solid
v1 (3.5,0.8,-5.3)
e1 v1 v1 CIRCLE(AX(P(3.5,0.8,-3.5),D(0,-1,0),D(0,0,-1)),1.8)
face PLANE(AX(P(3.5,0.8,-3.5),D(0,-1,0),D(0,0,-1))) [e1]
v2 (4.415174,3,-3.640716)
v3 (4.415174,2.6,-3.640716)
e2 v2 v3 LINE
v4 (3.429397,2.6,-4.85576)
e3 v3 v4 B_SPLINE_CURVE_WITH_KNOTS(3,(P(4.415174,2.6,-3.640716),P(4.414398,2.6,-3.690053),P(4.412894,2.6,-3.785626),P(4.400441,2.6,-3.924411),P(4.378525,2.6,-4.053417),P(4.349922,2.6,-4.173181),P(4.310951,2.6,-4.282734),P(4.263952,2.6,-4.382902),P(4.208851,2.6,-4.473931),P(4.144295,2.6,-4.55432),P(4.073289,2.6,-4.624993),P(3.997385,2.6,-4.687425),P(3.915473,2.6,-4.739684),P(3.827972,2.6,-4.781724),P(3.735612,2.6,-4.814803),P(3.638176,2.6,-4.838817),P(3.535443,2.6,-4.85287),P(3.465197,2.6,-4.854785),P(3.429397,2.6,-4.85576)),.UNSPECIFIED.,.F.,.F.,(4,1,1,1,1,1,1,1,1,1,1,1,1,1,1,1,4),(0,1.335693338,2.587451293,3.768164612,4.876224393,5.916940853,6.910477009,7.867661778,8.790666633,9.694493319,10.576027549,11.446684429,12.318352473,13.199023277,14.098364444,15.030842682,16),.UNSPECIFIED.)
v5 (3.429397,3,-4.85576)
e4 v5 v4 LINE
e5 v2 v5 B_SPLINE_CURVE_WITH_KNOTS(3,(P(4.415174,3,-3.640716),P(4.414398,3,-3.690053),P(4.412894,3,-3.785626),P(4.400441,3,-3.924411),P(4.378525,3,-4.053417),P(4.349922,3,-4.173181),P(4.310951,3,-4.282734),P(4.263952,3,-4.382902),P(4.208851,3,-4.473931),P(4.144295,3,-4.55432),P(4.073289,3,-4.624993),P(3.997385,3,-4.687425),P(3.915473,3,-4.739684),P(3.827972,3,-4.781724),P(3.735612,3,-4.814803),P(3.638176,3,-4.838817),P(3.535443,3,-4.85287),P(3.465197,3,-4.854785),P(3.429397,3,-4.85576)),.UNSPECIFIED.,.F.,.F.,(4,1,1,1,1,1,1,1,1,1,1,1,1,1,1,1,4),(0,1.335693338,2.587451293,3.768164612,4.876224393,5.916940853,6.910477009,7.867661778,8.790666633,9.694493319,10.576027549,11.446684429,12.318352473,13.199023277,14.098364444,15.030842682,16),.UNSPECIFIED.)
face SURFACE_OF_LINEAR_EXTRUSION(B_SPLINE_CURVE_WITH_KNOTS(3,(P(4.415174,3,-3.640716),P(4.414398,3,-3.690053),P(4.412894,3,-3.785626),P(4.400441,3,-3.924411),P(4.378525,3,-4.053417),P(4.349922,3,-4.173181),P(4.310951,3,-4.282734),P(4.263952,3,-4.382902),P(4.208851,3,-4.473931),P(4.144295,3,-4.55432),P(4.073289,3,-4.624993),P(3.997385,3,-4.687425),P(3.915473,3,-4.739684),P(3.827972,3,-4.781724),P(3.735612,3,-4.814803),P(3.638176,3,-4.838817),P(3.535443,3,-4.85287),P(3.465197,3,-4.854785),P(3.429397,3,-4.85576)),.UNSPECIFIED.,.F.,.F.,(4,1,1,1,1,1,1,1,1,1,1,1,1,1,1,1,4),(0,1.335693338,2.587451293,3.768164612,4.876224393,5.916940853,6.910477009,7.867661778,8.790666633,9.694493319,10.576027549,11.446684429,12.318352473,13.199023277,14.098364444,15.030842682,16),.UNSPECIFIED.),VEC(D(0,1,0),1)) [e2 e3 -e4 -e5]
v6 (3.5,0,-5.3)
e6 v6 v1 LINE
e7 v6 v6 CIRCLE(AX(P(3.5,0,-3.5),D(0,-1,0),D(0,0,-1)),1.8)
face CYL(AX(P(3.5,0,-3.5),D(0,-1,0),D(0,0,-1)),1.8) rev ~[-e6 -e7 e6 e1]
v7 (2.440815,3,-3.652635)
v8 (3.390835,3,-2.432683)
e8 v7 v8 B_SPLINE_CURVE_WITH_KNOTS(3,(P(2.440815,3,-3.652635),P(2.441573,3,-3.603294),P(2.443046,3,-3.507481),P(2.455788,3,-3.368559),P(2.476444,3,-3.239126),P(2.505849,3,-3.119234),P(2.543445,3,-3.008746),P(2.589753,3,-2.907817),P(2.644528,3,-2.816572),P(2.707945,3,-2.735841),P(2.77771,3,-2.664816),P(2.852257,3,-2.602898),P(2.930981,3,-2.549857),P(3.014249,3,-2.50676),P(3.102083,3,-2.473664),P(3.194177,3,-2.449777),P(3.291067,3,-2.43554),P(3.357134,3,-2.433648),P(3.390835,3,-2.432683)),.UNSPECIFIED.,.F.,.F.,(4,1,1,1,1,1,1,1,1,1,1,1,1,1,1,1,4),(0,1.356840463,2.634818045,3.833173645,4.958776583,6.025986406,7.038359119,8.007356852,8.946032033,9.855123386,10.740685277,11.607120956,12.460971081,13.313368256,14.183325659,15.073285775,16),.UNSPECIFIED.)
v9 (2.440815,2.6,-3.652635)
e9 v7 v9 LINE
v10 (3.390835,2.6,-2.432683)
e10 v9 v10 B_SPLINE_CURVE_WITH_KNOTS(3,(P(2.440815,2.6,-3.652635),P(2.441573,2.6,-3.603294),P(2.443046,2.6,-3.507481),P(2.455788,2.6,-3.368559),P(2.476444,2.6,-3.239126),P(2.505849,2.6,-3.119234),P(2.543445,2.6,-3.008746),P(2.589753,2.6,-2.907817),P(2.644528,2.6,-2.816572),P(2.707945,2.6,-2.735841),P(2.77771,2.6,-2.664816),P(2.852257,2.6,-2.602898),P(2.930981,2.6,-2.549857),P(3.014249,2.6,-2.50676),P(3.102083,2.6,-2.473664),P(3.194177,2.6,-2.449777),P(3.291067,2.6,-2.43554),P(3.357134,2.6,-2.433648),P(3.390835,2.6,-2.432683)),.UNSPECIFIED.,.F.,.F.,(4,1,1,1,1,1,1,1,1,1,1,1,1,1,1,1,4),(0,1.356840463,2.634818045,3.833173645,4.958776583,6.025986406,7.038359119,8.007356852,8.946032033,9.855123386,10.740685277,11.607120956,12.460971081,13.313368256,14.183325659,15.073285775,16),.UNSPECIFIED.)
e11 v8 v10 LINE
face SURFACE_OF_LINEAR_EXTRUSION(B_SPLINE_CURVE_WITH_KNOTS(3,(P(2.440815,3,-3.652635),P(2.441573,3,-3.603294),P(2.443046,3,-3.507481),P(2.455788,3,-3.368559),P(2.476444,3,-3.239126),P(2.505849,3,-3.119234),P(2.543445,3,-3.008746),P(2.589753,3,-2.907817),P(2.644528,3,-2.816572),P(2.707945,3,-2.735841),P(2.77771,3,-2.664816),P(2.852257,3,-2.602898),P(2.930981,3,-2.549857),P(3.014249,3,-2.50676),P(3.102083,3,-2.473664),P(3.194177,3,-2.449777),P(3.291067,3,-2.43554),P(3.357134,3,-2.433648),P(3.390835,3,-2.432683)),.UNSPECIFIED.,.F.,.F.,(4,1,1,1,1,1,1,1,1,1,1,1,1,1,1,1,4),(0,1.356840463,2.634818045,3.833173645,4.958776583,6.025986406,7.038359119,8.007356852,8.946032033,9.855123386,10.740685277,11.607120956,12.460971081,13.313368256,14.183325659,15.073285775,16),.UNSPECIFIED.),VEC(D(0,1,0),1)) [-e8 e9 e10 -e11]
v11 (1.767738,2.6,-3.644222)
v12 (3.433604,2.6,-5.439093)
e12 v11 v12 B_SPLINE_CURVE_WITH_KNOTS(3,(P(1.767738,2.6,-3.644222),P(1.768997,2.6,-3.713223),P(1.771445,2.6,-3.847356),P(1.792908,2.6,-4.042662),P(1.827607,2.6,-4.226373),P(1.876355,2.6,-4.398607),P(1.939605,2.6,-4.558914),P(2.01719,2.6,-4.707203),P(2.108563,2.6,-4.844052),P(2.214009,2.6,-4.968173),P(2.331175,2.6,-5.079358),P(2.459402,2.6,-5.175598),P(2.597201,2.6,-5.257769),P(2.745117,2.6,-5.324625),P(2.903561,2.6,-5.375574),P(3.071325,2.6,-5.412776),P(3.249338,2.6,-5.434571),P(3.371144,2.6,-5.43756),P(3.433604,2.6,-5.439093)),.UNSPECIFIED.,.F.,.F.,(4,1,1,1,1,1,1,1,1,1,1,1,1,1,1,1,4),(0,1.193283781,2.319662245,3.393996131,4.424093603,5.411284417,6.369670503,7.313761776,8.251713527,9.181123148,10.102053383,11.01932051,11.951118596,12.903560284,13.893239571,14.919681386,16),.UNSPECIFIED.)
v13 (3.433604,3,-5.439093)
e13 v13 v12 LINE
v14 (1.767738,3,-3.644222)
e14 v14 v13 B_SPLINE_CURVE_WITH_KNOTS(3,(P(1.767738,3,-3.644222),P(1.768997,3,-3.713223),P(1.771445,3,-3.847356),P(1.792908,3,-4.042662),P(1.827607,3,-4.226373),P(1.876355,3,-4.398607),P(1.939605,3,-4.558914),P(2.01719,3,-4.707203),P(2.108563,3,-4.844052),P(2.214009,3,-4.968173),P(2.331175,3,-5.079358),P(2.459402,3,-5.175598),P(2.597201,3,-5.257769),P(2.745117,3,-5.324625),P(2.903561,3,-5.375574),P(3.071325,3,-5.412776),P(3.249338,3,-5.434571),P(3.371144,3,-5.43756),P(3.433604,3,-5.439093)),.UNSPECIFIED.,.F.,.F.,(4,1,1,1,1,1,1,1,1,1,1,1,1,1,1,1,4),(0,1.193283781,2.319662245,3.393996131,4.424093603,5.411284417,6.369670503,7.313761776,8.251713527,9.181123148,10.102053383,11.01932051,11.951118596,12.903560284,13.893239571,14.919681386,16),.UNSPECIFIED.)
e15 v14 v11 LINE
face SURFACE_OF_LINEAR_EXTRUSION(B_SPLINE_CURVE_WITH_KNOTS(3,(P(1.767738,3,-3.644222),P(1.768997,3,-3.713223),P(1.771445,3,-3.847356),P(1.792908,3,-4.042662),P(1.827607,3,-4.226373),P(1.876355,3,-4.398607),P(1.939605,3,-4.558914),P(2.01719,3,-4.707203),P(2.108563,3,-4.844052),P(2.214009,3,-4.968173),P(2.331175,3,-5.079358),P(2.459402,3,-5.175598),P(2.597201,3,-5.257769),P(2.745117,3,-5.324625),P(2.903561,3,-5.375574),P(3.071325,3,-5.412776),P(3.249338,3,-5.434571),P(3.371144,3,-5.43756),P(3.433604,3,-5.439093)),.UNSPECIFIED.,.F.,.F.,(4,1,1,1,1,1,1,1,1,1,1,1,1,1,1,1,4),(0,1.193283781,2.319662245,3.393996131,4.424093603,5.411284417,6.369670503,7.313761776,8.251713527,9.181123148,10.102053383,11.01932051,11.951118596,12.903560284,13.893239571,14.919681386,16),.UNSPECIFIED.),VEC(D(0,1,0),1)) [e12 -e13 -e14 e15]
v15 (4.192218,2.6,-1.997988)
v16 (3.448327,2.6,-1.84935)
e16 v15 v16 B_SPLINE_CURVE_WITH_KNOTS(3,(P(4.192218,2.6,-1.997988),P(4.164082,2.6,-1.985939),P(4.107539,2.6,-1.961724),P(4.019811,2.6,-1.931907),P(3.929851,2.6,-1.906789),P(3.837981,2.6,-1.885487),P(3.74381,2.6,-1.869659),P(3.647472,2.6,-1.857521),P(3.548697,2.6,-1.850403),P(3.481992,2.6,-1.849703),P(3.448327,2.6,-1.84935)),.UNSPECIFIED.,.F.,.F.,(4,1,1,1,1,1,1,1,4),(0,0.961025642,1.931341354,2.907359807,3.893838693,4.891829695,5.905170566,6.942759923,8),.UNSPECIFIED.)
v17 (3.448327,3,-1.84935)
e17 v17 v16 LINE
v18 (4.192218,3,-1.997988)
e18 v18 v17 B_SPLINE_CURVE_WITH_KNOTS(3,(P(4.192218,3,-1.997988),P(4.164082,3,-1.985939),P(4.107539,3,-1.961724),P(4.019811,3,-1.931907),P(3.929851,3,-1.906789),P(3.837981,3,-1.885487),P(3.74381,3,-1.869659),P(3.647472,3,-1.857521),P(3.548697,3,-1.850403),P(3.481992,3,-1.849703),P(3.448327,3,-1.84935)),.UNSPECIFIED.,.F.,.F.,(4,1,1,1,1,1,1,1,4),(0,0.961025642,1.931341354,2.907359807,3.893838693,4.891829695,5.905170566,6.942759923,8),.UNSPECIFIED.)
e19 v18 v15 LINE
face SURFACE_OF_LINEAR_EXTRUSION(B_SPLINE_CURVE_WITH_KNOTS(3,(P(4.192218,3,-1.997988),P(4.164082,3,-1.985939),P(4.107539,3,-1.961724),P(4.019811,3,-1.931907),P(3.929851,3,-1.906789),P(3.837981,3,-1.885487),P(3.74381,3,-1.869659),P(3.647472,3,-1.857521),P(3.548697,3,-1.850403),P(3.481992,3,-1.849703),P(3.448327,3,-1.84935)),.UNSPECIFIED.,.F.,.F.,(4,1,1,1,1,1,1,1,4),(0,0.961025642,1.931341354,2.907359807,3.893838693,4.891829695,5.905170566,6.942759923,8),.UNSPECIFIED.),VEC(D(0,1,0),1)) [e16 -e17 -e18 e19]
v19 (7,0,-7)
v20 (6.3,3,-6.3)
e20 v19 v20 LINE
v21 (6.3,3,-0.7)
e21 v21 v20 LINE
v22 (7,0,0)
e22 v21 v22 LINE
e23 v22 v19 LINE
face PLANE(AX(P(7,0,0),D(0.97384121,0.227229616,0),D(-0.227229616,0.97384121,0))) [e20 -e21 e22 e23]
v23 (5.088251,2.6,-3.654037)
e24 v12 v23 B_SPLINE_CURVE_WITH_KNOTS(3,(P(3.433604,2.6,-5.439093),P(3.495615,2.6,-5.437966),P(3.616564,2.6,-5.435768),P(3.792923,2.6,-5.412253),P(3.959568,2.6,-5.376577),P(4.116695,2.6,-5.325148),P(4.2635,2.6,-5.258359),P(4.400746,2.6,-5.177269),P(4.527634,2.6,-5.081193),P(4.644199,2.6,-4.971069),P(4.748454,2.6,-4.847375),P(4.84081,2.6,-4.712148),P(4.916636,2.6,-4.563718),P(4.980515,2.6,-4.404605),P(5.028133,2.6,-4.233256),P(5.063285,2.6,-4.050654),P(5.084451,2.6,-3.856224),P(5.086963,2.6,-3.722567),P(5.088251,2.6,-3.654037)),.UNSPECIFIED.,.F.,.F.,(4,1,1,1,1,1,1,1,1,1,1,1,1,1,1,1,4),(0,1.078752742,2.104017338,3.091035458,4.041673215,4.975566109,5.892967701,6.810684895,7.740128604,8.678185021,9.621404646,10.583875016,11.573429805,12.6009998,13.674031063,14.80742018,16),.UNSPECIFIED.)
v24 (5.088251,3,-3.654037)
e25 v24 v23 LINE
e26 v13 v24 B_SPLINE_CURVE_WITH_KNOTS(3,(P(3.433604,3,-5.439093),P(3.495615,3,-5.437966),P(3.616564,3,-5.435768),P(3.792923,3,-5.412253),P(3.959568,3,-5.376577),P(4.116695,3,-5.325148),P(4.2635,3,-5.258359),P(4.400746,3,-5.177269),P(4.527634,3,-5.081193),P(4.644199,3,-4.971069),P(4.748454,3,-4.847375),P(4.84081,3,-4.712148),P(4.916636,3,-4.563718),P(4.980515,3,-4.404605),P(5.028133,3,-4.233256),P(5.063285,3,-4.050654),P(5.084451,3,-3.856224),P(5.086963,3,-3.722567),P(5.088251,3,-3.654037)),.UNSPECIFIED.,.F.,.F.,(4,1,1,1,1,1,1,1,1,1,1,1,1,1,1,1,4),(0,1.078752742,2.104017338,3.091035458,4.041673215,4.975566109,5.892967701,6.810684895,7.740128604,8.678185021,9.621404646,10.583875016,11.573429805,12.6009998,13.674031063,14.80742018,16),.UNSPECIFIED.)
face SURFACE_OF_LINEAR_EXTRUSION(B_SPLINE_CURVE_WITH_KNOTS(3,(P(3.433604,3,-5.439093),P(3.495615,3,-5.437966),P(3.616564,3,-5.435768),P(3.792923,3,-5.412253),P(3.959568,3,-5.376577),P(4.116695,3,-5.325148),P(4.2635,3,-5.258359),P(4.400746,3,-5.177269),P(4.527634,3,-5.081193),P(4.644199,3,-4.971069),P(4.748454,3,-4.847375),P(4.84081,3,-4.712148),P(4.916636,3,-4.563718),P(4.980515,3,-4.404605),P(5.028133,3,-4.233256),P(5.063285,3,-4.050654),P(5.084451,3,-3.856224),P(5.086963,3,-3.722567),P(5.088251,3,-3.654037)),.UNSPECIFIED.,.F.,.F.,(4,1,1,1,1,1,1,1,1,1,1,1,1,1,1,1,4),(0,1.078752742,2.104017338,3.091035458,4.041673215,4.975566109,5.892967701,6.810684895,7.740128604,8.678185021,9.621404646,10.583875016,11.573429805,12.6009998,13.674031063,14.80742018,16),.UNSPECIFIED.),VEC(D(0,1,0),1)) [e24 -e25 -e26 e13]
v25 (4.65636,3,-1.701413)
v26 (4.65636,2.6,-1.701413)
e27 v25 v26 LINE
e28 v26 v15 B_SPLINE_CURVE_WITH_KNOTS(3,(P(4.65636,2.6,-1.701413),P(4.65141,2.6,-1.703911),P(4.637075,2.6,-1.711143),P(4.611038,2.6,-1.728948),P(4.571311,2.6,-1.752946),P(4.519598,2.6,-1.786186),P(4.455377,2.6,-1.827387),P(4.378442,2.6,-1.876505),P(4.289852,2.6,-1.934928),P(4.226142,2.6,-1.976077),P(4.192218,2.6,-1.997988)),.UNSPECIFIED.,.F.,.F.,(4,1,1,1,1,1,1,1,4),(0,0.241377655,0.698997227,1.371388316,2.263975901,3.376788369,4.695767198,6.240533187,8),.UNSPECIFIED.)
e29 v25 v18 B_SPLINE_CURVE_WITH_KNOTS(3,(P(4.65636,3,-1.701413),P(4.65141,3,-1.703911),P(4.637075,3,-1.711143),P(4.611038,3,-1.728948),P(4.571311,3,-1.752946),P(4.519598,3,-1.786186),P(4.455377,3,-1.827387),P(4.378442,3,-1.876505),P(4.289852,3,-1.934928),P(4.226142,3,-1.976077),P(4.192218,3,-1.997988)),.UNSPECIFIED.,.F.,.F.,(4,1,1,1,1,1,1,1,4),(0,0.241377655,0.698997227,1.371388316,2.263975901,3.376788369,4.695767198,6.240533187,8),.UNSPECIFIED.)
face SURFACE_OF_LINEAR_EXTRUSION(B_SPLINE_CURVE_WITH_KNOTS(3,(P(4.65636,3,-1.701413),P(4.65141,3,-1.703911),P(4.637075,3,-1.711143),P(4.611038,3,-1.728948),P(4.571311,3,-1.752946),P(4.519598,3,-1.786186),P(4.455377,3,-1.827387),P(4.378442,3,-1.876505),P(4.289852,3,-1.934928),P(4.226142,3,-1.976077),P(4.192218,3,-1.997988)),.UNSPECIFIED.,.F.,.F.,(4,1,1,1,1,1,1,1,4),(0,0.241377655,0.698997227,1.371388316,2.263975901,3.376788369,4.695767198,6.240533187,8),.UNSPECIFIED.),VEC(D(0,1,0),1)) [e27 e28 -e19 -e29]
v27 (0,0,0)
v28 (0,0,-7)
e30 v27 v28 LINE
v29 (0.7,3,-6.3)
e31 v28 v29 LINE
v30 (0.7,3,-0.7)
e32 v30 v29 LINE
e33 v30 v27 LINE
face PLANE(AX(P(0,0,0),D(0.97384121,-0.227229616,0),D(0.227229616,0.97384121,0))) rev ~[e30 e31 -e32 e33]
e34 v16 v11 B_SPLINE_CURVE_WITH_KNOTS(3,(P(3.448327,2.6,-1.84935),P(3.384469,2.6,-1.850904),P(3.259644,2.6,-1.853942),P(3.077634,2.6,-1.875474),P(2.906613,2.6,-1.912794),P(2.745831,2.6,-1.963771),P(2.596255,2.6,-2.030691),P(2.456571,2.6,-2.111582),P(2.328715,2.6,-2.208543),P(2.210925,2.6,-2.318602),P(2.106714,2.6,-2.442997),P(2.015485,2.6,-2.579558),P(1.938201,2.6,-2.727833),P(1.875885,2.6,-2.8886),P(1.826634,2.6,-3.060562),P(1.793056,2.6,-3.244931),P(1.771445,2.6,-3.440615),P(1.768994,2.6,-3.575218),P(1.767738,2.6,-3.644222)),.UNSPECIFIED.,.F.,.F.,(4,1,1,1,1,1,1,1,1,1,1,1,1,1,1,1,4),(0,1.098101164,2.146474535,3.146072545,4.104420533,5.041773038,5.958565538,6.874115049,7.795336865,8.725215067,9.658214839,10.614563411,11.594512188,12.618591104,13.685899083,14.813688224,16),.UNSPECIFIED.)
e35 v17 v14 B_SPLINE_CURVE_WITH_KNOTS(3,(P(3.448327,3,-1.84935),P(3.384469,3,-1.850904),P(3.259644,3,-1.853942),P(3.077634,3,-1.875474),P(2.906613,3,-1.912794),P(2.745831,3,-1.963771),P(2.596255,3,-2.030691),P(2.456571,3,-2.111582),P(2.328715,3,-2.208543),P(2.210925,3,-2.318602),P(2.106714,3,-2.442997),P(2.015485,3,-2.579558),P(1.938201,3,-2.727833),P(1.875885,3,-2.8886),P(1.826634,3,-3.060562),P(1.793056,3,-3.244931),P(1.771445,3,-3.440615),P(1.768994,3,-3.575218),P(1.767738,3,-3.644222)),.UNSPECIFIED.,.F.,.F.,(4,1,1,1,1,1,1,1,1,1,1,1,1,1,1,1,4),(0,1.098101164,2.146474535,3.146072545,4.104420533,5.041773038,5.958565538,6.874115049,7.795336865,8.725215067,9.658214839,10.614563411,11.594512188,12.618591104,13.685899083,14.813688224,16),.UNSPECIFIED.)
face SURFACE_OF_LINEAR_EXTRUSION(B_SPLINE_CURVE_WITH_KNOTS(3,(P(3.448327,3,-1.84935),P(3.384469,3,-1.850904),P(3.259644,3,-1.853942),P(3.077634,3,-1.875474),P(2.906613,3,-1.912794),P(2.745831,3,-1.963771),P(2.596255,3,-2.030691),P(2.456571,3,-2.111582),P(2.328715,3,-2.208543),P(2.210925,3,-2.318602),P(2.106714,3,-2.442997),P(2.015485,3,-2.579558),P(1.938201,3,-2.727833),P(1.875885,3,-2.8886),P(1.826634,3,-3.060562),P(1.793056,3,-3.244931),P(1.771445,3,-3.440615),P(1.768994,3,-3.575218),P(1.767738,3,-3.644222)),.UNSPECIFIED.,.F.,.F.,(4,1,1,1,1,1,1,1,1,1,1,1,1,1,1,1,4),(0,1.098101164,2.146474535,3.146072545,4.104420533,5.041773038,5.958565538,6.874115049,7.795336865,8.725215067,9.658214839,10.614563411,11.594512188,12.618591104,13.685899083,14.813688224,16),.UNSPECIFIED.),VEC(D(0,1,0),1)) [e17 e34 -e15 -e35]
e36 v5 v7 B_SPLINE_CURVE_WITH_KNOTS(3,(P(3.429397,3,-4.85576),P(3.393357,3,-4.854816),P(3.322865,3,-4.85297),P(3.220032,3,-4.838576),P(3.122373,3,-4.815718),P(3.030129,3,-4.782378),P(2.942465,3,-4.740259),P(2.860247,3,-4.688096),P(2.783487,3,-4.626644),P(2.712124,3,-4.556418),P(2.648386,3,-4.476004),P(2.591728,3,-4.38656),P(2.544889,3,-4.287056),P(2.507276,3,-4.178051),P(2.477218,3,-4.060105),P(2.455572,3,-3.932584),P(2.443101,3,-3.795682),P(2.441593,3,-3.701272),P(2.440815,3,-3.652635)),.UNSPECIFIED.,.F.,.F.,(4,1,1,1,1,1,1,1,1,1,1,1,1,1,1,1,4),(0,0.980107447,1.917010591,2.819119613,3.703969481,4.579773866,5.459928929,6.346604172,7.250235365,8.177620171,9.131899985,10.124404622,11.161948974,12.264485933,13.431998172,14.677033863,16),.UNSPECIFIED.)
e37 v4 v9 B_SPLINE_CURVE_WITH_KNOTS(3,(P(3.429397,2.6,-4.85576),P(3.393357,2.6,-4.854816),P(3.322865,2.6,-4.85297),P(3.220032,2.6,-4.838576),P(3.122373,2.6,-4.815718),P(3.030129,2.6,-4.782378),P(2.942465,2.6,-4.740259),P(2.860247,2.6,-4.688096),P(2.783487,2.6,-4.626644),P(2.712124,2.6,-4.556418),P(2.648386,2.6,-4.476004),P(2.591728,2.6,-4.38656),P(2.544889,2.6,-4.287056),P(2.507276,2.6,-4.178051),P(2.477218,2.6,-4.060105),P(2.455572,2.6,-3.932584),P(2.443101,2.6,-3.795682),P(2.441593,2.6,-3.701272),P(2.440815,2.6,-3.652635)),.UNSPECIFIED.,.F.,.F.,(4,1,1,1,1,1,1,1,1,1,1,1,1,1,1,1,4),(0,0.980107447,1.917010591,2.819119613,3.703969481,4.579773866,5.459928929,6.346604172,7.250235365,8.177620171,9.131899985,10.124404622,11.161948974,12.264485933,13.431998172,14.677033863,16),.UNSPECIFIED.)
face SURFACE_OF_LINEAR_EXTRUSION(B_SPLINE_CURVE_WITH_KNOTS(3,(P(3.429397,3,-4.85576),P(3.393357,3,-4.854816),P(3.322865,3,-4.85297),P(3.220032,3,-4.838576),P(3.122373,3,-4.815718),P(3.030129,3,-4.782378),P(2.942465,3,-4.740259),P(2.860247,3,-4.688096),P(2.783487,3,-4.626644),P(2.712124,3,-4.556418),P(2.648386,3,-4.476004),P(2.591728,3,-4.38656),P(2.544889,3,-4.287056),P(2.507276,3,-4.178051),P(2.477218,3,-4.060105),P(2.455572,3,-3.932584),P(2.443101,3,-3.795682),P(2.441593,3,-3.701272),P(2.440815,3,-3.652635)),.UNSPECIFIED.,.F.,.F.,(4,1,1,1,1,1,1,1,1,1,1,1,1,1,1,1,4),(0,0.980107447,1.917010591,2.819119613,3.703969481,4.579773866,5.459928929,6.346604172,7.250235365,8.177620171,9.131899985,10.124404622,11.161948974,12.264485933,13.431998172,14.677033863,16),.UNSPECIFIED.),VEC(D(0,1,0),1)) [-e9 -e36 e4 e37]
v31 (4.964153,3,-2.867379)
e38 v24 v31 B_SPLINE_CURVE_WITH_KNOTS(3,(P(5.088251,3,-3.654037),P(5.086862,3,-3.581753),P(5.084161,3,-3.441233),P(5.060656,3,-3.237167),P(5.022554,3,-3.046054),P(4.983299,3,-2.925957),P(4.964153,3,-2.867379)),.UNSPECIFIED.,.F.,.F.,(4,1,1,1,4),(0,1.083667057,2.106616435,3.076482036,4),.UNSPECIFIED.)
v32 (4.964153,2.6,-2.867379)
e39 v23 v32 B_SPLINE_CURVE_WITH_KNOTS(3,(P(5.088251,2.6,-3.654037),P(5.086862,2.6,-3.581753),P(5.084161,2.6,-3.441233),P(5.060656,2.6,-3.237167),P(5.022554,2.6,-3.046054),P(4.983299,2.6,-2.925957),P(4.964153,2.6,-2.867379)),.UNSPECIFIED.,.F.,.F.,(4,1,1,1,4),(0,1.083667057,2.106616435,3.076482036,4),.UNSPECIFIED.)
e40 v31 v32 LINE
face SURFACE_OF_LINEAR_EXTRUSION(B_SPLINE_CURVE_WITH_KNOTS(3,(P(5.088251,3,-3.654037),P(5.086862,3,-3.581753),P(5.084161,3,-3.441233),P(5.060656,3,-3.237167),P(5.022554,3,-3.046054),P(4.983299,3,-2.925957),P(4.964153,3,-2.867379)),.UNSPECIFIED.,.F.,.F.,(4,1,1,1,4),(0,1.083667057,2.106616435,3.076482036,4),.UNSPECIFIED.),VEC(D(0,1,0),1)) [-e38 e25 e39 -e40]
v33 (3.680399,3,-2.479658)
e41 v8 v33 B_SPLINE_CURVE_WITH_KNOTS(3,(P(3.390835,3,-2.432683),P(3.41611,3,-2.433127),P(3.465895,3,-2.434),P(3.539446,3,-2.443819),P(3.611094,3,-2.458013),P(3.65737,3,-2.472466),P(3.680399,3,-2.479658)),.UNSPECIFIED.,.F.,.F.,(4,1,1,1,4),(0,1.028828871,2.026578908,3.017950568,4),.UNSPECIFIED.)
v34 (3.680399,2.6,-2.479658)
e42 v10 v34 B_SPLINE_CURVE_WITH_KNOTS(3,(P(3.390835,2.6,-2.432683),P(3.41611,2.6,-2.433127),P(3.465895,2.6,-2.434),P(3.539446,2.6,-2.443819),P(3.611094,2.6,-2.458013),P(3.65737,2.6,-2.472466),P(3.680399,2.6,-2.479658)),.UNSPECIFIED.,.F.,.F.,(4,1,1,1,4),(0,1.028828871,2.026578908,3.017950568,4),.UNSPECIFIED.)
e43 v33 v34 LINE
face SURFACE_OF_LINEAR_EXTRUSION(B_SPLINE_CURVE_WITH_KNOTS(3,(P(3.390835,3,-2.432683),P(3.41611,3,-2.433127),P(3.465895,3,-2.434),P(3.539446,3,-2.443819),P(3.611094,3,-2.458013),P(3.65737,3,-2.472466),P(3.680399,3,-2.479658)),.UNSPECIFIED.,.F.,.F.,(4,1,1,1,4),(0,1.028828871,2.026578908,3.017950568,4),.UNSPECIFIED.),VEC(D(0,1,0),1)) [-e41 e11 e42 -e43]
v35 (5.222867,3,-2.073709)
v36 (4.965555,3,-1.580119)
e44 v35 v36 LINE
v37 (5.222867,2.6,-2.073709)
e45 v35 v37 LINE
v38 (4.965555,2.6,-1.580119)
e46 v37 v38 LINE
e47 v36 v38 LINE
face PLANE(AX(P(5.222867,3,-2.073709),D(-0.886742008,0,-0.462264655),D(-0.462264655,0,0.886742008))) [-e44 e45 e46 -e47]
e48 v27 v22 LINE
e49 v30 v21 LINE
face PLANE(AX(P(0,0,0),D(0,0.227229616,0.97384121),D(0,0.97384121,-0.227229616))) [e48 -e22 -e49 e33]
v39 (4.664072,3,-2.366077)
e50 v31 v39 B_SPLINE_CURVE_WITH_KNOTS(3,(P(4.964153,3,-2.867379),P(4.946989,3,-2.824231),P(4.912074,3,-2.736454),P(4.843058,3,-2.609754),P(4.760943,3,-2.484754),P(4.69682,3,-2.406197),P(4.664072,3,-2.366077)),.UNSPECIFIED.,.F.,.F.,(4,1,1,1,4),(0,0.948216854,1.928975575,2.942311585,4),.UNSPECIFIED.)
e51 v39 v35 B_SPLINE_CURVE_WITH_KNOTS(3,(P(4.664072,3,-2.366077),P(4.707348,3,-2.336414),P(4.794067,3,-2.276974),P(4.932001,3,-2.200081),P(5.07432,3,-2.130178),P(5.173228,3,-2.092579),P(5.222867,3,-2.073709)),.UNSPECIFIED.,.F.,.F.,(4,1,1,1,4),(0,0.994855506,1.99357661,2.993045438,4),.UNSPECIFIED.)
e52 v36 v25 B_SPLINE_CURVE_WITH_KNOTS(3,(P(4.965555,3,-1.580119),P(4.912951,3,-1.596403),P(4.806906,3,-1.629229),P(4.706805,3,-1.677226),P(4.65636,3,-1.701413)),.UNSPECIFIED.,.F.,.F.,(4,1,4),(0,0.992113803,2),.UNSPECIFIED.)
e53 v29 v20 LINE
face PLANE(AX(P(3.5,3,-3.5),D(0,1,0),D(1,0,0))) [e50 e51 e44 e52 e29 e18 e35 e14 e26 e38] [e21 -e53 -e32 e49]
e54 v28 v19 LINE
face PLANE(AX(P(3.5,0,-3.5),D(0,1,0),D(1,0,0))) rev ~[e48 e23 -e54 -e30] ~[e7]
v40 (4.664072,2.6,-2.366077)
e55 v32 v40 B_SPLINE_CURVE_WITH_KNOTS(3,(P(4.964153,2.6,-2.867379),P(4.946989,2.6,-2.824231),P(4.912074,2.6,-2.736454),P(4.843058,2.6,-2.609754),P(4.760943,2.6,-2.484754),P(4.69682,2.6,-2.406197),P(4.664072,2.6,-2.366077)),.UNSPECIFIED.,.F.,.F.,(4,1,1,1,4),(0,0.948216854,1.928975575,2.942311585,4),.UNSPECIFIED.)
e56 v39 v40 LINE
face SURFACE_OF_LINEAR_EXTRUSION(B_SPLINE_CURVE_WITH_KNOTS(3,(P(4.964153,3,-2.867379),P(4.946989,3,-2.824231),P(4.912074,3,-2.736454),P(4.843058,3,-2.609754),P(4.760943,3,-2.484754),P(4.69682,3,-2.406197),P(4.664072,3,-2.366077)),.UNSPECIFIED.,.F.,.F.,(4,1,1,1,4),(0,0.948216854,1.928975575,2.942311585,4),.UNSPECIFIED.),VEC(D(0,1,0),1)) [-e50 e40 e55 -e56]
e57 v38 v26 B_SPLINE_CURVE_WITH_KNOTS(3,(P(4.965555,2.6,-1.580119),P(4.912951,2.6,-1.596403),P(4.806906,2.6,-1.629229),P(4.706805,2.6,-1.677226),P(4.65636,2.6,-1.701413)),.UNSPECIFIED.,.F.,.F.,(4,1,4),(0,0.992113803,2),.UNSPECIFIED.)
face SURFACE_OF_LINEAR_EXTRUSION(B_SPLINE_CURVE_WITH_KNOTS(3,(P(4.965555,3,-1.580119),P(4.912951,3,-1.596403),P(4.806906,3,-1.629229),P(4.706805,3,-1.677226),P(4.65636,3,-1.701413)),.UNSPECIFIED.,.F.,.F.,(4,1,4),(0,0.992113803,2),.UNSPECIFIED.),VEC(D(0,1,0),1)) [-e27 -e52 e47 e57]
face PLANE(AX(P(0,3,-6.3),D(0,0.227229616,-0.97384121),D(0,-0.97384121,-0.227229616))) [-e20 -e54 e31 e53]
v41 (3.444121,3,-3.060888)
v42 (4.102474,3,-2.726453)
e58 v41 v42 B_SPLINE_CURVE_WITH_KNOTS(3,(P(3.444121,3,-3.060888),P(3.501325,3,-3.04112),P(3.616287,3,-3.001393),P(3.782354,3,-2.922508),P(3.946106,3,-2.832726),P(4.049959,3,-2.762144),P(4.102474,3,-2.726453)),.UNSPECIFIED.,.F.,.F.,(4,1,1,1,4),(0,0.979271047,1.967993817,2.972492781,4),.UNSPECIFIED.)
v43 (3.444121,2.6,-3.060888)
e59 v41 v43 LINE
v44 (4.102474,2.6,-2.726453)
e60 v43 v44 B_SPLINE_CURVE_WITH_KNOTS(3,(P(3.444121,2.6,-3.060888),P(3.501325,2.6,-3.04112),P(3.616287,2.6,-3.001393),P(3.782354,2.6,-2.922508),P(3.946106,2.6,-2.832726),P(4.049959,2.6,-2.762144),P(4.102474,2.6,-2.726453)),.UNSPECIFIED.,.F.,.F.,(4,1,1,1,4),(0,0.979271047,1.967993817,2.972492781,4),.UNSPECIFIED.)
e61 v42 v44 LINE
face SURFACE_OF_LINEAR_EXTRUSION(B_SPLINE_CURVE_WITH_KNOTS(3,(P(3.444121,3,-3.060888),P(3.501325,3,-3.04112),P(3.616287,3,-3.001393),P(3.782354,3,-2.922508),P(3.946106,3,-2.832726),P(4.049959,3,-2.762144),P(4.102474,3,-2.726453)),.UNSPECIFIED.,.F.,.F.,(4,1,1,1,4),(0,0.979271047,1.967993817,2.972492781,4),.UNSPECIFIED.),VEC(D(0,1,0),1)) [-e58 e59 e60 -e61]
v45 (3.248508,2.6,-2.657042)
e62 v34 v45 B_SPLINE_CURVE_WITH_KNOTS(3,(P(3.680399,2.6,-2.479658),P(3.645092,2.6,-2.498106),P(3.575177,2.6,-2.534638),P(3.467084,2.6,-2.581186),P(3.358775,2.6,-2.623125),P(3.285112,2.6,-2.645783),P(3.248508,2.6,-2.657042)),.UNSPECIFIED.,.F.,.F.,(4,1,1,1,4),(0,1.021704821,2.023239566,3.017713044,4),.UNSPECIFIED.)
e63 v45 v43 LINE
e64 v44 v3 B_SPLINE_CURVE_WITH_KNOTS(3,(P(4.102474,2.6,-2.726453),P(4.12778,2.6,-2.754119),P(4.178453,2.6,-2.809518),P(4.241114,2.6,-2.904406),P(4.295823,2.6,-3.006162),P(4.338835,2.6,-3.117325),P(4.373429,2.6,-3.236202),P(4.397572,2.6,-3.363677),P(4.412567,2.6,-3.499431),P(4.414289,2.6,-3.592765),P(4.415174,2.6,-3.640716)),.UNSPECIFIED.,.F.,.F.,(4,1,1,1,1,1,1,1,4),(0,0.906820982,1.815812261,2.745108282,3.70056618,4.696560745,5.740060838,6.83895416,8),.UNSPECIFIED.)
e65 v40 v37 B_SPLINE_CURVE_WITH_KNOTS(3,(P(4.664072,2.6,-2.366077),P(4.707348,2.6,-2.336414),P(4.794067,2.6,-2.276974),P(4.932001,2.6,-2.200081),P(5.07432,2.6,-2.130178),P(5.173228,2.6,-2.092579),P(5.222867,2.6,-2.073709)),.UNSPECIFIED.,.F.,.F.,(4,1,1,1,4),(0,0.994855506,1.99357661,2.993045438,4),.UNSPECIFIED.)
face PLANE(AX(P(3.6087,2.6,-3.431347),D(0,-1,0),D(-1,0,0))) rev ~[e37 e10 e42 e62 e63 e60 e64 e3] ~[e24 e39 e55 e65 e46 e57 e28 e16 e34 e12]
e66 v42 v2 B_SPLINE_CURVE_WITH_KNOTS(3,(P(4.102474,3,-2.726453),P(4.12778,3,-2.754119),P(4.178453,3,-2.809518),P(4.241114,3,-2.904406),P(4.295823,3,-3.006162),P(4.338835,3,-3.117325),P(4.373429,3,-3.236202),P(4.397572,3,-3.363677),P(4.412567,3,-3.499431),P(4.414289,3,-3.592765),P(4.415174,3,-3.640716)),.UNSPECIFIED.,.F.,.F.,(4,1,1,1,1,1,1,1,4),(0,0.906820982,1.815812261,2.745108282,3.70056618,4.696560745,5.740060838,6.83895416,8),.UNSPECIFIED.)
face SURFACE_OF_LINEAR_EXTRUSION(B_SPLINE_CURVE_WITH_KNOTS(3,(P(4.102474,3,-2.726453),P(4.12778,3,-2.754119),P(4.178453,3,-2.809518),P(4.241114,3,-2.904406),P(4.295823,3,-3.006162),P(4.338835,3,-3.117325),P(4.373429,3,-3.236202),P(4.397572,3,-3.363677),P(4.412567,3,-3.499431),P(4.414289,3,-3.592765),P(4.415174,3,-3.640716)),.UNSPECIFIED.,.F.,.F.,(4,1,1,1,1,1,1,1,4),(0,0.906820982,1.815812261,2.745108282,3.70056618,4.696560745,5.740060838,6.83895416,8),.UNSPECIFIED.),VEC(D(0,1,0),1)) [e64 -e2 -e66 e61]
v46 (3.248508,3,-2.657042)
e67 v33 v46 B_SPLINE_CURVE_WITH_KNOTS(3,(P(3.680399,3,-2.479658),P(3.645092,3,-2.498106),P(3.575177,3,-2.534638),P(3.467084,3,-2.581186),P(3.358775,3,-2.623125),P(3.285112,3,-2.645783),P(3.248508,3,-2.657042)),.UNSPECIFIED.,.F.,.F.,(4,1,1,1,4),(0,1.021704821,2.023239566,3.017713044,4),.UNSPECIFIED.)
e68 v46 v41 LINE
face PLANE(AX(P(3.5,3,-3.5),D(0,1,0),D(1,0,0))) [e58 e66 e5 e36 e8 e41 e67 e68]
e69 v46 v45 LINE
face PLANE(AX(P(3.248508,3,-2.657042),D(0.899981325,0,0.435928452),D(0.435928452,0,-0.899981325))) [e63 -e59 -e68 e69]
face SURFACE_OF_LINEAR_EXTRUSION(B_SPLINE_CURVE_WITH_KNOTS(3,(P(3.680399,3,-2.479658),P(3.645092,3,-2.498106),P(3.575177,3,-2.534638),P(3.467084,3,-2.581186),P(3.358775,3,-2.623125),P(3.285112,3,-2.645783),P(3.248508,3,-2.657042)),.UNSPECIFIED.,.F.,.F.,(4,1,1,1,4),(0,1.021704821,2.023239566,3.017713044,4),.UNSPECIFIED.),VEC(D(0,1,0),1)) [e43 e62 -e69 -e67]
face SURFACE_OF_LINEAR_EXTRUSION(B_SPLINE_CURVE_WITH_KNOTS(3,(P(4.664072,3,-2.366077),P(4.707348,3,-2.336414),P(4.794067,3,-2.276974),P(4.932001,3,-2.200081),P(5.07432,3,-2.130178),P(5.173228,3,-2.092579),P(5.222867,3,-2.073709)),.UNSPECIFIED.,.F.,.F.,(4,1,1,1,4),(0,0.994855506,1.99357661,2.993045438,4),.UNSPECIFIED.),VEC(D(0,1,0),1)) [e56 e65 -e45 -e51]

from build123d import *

# Parameters (mm, degrees)
SKETCH1_W           = 7
SKETCH1_H           = 7
BOSS_EXTRUDE1_DEPTH = 3
CUT_EXTRUDE1_DEPTH  = 7
CUT_EXTRUDE2_DEPTH  = 11
SKETCH4_R           = 1.8
CUT_EXTRUDE3_DEPTH  = 0.8
CUT_EXTRUDE4_DEPTH  = 0.4


with BuildPart() as part:
    # Sketch1 → Boss-Extrude1 (new body)
    with BuildSketch(Plane(origin=(0, 0, 0), x_dir=(1, 0, 0), z_dir=(0, 1, 0))):
        with Locations((3.5, 3.5)):
            Rectangle(SKETCH1_W, SKETCH1_H)
    extrude(amount=BOSS_EXTRUDE1_DEPTH)

    # Sketch2 → Cut-Extrude1 (cut)
    with BuildSketch(Plane.XY):
        Polygon((0, 0), (0.7, 3), (0, 3), align=None)
        Polygon((7, 0), (6.3, 3), (7, 3), align=None)
    extrude(amount=-CUT_EXTRUDE1_DEPTH, mode=Mode.SUBTRACT)

    # Sketch3 → Cut-Extrude2 (cut)
    with BuildSketch(Plane(origin=(0, 0, 0), x_dir=(0, 0, -1), z_dir=(1, 0, 0))):
        Polygon((0, 0), (0.7, 3), (0, 3), align=None)
        Polygon((7, 3), (6.3, 3), (7, 0), align=None)
    extrude(amount=CUT_EXTRUDE2_DEPTH, mode=Mode.SUBTRACT)

    # Sketch4 → Cut-Extrude3 (cut)
    with BuildSketch(Plane.XZ):
        with Locations(Location((3.5, -3.5, 0), (0, 0, 270))):
            Circle(SKETCH4_R)
    extrude(amount=-CUT_EXTRUDE3_DEPTH, mode=Mode.SUBTRACT)

    # Sketch6 → Cut-Extrude4 (cut)
    with BuildSketch(Plane(origin=(0, 3, 0), x_dir=(1, 0, 0), z_dir=(0, 1, 0))):
        with BuildLine():
            add(Edge.make_bspline(
                [(4.664072496, 2.366076672), (4.707347841, 2.33641431), (4.79406668, 2.276974329), (4.932000881, 2.200081193), (5.074319859, 2.130177652), (5.173227993, 2.092578566), (5.222866567, 2.073708884)],
                knots=[0, 0, 0, 0, 0.994855506, 1.99357661, 2.993045438, 4, 4, 4, 4], degree=3))
            Line((5.222866567, 2.073708884), (4.965554868, 1.58011914))
            add(Edge.make_bspline(
                [(4.965554868, 1.58011914), (4.912950568, 1.596402863), (4.806905677, 1.629229182), (4.706805134, 1.677225698), (4.656360157, 1.701413211)],
                knots=[0, 0, 0, 0, 0.992113803, 2, 2, 2, 2], degree=3))
            add(Edge.make_bspline(
                [(4.656360157, 1.701413211), (4.651410026, 1.703910751), (4.637075112, 1.711143291), (4.611037723, 1.728948088), (4.571310996, 1.752945912), (4.519597577, 1.786185947), (4.455377063, 1.827387082), (4.378441674, 1.876504864), (4.289852424, 1.934928076), (4.2261424, 1.976076602), (4.192217528, 1.99798773)],
                knots=[0, 0, 0, 0, 0.241377655, 0.698997227, 1.371388316, 2.263975901, 3.376788369, 4.695767198, 6.240533187, 8, 8, 8, 8], degree=3))
            add(Edge.make_bspline(
                [(4.192217528, 1.99798773), (4.164082126, 1.985938608), (4.107539341, 1.961723888), (4.019810769, 1.931906785), (3.929851311, 1.906788839), (3.83798057, 1.88548719), (3.743809701, 1.869659434), (3.647471832, 1.857521371), (3.548696902, 1.85040295), (3.481992412, 1.849703111), (3.448327304, 1.849349909)],
                knots=[0, 0, 0, 0, 0.961025642, 1.931341354, 2.907359807, 3.893838693, 4.891829695, 5.905170566, 6.942759923, 8, 8, 8, 8], degree=3))
            add(Edge.make_bspline(
                [(3.448327304, 1.849349909), (3.384469015, 1.850904143), (3.259644276, 1.853942228), (3.077633843, 1.87547395), (2.906612989, 1.912794393), (2.745831056, 1.96377118), (2.596254532, 2.030691184), (2.456571284, 2.111582166), (2.328715231, 2.208542848), (2.210924756, 2.318601555), (2.106714068, 2.44299724), (2.01548492, 2.579558487), (1.938201438, 2.727832608), (1.87588476, 2.888600431), (1.826634495, 3.060561995), (1.793056062, 3.244931239), (1.771444669, 3.440614719), (1.768994453, 3.575218022), (1.767738362, 3.644221704)],
                knots=[0, 0, 0, 0, 1.098101164, 2.146474535, 3.146072545, 4.104420533, 5.041773038, 5.958565538, 6.874115049, 7.795336865, 8.725215067, 9.658214839, 10.614563411, 11.594512188, 12.618591104, 13.685899083, 14.813688224, 16, 16, 16, 16], degree=3))
            add(Edge.make_bspline(
                [(1.767738362, 3.644221704), (1.768997302, 3.713222571), (1.771444596, 3.847355546), (1.7929084, 4.042662021), (1.827606571, 4.226372552), (1.876354652, 4.398607362), (1.939604685, 4.558913945), (2.017190294, 4.707202518), (2.10856287, 4.844051901), (2.214008903, 4.968173308), (2.331174894, 5.079358291), (2.459402401, 5.175598306), (2.597200561, 5.257768614), (2.745117273, 5.324625417), (2.903560867, 5.375574114), (3.071324913, 5.412775744), (3.249338156, 5.434570742), (3.371143561, 5.437560428), (3.433603746, 5.439093499)],
                knots=[0, 0, 0, 0, 1.193283781, 2.319662245, 3.393996131, 4.424093603, 5.411284417, 6.369670503, 7.313761776, 8.251713527, 9.181123148, 10.102053383, 11.01932051, 11.951118596, 12.903560284, 13.893239571, 14.919681386, 16, 16, 16, 16], degree=3))
            add(Edge.make_bspline(
                [(3.433603746, 5.439093499), (3.495615312, 5.437966268), (3.616563704, 5.435767699), (3.79292347, 5.412253487), (3.95956776, 5.376576627), (4.116694799, 5.325148401), (4.263499528, 5.258359333), (4.400745959, 5.177269062), (4.527633661, 5.081192592), (4.644198547, 4.971068574), (4.748454019, 4.847375423), (4.840809815, 4.712147514), (4.916635875, 4.563717786), (4.980514643, 4.404604546), (5.028132934, 4.233255975), (5.063284912, 4.050654395), (5.084451249, 3.856224461), (5.08696323, 3.722566855), (5.088251182, 3.654037409)],
                knots=[0, 0, 0, 0, 1.078752742, 2.104017338, 3.091035458, 4.041673215, 4.975566109, 5.892967701, 6.810684895, 7.740128604, 8.678185021, 9.621404646, 10.583875016, 11.573429805, 12.6009998, 13.674031063, 14.80742018, 16, 16, 16, 16], degree=3))
            add(Edge.make_bspline(
                [(5.088251182, 3.654037409), (5.086861856, 3.58175257), (5.084161048, 3.441232998), (5.060656035, 3.237166867), (5.02255362, 3.046054473), (4.983299325, 2.925957386), (4.964152625, 2.867378755)],
                knots=[0, 0, 0, 0, 1.083667057, 2.106616435, 3.076482036, 4, 4, 4, 4], degree=3))
            add(Edge.make_bspline(
                [(4.964152625, 2.867378755), (4.946989265, 2.824230782), (4.912073515, 2.73645404), (4.84305787, 2.609753708), (4.760943187, 2.484753896), (4.696820471, 2.406196533), (4.664072496, 2.366076672)],
                knots=[0, 0, 0, 0, 0.948216854, 1.928975575, 2.942311585, 4, 4, 4, 4], degree=3))
        make_face()
        with BuildLine():
            add(Edge.make_bspline(
                [(4.102473939, 2.726453275), (4.127780012, 2.754119398), (4.178452724, 2.809517857), (4.241114406, 2.90440552), (4.295822593, 3.006161549), (4.338835309, 3.117324632), (4.373428663, 3.236201997), (4.397571905, 3.363677482), (4.412566656, 3.499430632), (4.414289266, 3.592765315), (4.415174259, 3.640716095)],
                knots=[0, 0, 0, 0, 0.906820982, 1.815812261, 2.745108282, 3.70056618, 4.696560745, 5.740060838, 6.83895416, 8, 8, 8, 8], degree=3))
            add(Edge.make_bspline(
                [(4.415174259, 3.640716095), (4.414398079, 3.690052691), (4.412894495, 3.785625555), (4.400440515, 3.924411083), (4.378524584, 4.053416848), (4.349921684, 4.173180965), (4.310950729, 4.282734101), (4.263951968, 4.382902013), (4.208851462, 4.473931164), (4.144295177, 4.554319676), (4.073289316, 4.624992614), (3.997385018, 4.687424679), (3.915473431, 4.739684176), (3.827971743, 4.781723701), (3.735612195, 4.814802537), (3.638175965, 4.838817015), (3.53544327, 4.852870135), (3.465197405, 4.854784514), (3.429397016, 4.855760166)],
                knots=[0, 0, 0, 0, 1.335693338, 2.587451293, 3.768164612, 4.876224393, 5.916940853, 6.910477009, 7.867661778, 8.790666633, 9.694493319, 10.576027549, 11.446684429, 12.318352473, 13.199023277, 14.098364444, 15.030842682, 16, 16, 16, 16], degree=3))
            add(Edge.make_bspline(
                [(3.429397016, 4.855760166), (3.393356942, 4.854816175), (3.322865485, 4.852969805), (3.220031689, 4.838575915), (3.122373109, 4.815718183), (3.030128831, 4.782378038), (2.942464926, 4.740258761), (2.860247279, 4.688096064), (2.783487349, 4.626644322), (2.712123891, 4.556417609), (2.648385937, 4.476003653), (2.59172793, 4.38655956), (2.54488942, 4.287055852), (2.507276462, 4.178050834), (2.47721761, 4.060104683), (2.455571683, 3.932584455), (2.443101443, 3.795681707), (2.4415926, 3.701272351), (2.440815285, 3.652635166)],
                knots=[0, 0, 0, 0, 0.980107447, 1.917010591, 2.819119613, 3.703969481, 4.579773866, 5.459928929, 6.346604172, 7.250235365, 8.177620171, 9.131899985, 10.124404622, 11.161948974, 12.264485933, 13.431998172, 14.677033863, 16, 16, 16, 16], degree=3))
            add(Edge.make_bspline(
                [(2.440815285, 3.652635166), (2.441573469, 3.603294377), (2.44304577, 3.507480607), (2.45578752, 3.368559232), (2.476444238, 3.239125728), (2.505849447, 3.119233667), (2.543445207, 3.008746086), (2.589753063, 2.907816949), (2.64452751, 2.816572472), (2.707944858, 2.735840547), (2.77770996, 2.664816022), (2.852256943, 2.602898033), (2.930980725, 2.549856537), (3.014248538, 2.506760434), (3.102082714, 2.473663846), (3.194176957, 2.449777413), (3.291067215, 2.435539876), (3.35713374, 2.433648211), (3.390835317, 2.432683243)],
                knots=[0, 0, 0, 0, 1.356840463, 2.634818045, 3.833173645, 4.958776583, 6.025986406, 7.038359119, 8.007356852, 8.946032033, 9.855123386, 10.740685277, 11.607120956, 12.460971081, 13.313368256, 14.183325659, 15.073285775, 16, 16, 16, 16], degree=3))
            add(Edge.make_bspline(
                [(3.390835317, 2.432683243), (3.416109581, 2.433126684), (3.465894623, 2.43400017), (3.53944648, 2.443818905), (3.611093649, 2.458013111), (3.65736983, 2.472466064), (3.680398618, 2.479658403)],
                knots=[0, 0, 0, 0, 1.028828871, 2.026578908, 3.017950568, 4, 4, 4, 4], degree=3))
            add(Edge.make_bspline(
                [(3.680398618, 2.479658403), (3.645092364, 2.498106364), (3.575176857, 2.534638095), (3.467084084, 2.581186178), (3.358775331, 2.62312493), (3.28511213, 2.645783016), (3.248507593, 2.657042217)],
                knots=[0, 0, 0, 0, 1.021704821, 2.023239566, 3.017713044, 4, 4, 4, 4], degree=3))
            Line((3.248507593, 2.657042217), (3.444120573, 3.060888371))
            add(Edge.make_bspline(
                [(3.444120573, 3.060888371), (3.501325249, 3.041120096), (3.616286729, 3.001392746), (3.7823537, 2.92250788), (3.946106427, 2.832725945), (4.049959461, 2.762143896), (4.102473939, 2.726453275)],
                knots=[0, 0, 0, 0, 0.979271047, 1.967993817, 2.972492781, 4, 4, 4, 4], degree=3))
        make_face(mode=Mode.SUBTRACT)
    extrude(amount=-CUT_EXTRUDE4_DEPTH, mode=Mode.SUBTRACT)


solid = part.part
